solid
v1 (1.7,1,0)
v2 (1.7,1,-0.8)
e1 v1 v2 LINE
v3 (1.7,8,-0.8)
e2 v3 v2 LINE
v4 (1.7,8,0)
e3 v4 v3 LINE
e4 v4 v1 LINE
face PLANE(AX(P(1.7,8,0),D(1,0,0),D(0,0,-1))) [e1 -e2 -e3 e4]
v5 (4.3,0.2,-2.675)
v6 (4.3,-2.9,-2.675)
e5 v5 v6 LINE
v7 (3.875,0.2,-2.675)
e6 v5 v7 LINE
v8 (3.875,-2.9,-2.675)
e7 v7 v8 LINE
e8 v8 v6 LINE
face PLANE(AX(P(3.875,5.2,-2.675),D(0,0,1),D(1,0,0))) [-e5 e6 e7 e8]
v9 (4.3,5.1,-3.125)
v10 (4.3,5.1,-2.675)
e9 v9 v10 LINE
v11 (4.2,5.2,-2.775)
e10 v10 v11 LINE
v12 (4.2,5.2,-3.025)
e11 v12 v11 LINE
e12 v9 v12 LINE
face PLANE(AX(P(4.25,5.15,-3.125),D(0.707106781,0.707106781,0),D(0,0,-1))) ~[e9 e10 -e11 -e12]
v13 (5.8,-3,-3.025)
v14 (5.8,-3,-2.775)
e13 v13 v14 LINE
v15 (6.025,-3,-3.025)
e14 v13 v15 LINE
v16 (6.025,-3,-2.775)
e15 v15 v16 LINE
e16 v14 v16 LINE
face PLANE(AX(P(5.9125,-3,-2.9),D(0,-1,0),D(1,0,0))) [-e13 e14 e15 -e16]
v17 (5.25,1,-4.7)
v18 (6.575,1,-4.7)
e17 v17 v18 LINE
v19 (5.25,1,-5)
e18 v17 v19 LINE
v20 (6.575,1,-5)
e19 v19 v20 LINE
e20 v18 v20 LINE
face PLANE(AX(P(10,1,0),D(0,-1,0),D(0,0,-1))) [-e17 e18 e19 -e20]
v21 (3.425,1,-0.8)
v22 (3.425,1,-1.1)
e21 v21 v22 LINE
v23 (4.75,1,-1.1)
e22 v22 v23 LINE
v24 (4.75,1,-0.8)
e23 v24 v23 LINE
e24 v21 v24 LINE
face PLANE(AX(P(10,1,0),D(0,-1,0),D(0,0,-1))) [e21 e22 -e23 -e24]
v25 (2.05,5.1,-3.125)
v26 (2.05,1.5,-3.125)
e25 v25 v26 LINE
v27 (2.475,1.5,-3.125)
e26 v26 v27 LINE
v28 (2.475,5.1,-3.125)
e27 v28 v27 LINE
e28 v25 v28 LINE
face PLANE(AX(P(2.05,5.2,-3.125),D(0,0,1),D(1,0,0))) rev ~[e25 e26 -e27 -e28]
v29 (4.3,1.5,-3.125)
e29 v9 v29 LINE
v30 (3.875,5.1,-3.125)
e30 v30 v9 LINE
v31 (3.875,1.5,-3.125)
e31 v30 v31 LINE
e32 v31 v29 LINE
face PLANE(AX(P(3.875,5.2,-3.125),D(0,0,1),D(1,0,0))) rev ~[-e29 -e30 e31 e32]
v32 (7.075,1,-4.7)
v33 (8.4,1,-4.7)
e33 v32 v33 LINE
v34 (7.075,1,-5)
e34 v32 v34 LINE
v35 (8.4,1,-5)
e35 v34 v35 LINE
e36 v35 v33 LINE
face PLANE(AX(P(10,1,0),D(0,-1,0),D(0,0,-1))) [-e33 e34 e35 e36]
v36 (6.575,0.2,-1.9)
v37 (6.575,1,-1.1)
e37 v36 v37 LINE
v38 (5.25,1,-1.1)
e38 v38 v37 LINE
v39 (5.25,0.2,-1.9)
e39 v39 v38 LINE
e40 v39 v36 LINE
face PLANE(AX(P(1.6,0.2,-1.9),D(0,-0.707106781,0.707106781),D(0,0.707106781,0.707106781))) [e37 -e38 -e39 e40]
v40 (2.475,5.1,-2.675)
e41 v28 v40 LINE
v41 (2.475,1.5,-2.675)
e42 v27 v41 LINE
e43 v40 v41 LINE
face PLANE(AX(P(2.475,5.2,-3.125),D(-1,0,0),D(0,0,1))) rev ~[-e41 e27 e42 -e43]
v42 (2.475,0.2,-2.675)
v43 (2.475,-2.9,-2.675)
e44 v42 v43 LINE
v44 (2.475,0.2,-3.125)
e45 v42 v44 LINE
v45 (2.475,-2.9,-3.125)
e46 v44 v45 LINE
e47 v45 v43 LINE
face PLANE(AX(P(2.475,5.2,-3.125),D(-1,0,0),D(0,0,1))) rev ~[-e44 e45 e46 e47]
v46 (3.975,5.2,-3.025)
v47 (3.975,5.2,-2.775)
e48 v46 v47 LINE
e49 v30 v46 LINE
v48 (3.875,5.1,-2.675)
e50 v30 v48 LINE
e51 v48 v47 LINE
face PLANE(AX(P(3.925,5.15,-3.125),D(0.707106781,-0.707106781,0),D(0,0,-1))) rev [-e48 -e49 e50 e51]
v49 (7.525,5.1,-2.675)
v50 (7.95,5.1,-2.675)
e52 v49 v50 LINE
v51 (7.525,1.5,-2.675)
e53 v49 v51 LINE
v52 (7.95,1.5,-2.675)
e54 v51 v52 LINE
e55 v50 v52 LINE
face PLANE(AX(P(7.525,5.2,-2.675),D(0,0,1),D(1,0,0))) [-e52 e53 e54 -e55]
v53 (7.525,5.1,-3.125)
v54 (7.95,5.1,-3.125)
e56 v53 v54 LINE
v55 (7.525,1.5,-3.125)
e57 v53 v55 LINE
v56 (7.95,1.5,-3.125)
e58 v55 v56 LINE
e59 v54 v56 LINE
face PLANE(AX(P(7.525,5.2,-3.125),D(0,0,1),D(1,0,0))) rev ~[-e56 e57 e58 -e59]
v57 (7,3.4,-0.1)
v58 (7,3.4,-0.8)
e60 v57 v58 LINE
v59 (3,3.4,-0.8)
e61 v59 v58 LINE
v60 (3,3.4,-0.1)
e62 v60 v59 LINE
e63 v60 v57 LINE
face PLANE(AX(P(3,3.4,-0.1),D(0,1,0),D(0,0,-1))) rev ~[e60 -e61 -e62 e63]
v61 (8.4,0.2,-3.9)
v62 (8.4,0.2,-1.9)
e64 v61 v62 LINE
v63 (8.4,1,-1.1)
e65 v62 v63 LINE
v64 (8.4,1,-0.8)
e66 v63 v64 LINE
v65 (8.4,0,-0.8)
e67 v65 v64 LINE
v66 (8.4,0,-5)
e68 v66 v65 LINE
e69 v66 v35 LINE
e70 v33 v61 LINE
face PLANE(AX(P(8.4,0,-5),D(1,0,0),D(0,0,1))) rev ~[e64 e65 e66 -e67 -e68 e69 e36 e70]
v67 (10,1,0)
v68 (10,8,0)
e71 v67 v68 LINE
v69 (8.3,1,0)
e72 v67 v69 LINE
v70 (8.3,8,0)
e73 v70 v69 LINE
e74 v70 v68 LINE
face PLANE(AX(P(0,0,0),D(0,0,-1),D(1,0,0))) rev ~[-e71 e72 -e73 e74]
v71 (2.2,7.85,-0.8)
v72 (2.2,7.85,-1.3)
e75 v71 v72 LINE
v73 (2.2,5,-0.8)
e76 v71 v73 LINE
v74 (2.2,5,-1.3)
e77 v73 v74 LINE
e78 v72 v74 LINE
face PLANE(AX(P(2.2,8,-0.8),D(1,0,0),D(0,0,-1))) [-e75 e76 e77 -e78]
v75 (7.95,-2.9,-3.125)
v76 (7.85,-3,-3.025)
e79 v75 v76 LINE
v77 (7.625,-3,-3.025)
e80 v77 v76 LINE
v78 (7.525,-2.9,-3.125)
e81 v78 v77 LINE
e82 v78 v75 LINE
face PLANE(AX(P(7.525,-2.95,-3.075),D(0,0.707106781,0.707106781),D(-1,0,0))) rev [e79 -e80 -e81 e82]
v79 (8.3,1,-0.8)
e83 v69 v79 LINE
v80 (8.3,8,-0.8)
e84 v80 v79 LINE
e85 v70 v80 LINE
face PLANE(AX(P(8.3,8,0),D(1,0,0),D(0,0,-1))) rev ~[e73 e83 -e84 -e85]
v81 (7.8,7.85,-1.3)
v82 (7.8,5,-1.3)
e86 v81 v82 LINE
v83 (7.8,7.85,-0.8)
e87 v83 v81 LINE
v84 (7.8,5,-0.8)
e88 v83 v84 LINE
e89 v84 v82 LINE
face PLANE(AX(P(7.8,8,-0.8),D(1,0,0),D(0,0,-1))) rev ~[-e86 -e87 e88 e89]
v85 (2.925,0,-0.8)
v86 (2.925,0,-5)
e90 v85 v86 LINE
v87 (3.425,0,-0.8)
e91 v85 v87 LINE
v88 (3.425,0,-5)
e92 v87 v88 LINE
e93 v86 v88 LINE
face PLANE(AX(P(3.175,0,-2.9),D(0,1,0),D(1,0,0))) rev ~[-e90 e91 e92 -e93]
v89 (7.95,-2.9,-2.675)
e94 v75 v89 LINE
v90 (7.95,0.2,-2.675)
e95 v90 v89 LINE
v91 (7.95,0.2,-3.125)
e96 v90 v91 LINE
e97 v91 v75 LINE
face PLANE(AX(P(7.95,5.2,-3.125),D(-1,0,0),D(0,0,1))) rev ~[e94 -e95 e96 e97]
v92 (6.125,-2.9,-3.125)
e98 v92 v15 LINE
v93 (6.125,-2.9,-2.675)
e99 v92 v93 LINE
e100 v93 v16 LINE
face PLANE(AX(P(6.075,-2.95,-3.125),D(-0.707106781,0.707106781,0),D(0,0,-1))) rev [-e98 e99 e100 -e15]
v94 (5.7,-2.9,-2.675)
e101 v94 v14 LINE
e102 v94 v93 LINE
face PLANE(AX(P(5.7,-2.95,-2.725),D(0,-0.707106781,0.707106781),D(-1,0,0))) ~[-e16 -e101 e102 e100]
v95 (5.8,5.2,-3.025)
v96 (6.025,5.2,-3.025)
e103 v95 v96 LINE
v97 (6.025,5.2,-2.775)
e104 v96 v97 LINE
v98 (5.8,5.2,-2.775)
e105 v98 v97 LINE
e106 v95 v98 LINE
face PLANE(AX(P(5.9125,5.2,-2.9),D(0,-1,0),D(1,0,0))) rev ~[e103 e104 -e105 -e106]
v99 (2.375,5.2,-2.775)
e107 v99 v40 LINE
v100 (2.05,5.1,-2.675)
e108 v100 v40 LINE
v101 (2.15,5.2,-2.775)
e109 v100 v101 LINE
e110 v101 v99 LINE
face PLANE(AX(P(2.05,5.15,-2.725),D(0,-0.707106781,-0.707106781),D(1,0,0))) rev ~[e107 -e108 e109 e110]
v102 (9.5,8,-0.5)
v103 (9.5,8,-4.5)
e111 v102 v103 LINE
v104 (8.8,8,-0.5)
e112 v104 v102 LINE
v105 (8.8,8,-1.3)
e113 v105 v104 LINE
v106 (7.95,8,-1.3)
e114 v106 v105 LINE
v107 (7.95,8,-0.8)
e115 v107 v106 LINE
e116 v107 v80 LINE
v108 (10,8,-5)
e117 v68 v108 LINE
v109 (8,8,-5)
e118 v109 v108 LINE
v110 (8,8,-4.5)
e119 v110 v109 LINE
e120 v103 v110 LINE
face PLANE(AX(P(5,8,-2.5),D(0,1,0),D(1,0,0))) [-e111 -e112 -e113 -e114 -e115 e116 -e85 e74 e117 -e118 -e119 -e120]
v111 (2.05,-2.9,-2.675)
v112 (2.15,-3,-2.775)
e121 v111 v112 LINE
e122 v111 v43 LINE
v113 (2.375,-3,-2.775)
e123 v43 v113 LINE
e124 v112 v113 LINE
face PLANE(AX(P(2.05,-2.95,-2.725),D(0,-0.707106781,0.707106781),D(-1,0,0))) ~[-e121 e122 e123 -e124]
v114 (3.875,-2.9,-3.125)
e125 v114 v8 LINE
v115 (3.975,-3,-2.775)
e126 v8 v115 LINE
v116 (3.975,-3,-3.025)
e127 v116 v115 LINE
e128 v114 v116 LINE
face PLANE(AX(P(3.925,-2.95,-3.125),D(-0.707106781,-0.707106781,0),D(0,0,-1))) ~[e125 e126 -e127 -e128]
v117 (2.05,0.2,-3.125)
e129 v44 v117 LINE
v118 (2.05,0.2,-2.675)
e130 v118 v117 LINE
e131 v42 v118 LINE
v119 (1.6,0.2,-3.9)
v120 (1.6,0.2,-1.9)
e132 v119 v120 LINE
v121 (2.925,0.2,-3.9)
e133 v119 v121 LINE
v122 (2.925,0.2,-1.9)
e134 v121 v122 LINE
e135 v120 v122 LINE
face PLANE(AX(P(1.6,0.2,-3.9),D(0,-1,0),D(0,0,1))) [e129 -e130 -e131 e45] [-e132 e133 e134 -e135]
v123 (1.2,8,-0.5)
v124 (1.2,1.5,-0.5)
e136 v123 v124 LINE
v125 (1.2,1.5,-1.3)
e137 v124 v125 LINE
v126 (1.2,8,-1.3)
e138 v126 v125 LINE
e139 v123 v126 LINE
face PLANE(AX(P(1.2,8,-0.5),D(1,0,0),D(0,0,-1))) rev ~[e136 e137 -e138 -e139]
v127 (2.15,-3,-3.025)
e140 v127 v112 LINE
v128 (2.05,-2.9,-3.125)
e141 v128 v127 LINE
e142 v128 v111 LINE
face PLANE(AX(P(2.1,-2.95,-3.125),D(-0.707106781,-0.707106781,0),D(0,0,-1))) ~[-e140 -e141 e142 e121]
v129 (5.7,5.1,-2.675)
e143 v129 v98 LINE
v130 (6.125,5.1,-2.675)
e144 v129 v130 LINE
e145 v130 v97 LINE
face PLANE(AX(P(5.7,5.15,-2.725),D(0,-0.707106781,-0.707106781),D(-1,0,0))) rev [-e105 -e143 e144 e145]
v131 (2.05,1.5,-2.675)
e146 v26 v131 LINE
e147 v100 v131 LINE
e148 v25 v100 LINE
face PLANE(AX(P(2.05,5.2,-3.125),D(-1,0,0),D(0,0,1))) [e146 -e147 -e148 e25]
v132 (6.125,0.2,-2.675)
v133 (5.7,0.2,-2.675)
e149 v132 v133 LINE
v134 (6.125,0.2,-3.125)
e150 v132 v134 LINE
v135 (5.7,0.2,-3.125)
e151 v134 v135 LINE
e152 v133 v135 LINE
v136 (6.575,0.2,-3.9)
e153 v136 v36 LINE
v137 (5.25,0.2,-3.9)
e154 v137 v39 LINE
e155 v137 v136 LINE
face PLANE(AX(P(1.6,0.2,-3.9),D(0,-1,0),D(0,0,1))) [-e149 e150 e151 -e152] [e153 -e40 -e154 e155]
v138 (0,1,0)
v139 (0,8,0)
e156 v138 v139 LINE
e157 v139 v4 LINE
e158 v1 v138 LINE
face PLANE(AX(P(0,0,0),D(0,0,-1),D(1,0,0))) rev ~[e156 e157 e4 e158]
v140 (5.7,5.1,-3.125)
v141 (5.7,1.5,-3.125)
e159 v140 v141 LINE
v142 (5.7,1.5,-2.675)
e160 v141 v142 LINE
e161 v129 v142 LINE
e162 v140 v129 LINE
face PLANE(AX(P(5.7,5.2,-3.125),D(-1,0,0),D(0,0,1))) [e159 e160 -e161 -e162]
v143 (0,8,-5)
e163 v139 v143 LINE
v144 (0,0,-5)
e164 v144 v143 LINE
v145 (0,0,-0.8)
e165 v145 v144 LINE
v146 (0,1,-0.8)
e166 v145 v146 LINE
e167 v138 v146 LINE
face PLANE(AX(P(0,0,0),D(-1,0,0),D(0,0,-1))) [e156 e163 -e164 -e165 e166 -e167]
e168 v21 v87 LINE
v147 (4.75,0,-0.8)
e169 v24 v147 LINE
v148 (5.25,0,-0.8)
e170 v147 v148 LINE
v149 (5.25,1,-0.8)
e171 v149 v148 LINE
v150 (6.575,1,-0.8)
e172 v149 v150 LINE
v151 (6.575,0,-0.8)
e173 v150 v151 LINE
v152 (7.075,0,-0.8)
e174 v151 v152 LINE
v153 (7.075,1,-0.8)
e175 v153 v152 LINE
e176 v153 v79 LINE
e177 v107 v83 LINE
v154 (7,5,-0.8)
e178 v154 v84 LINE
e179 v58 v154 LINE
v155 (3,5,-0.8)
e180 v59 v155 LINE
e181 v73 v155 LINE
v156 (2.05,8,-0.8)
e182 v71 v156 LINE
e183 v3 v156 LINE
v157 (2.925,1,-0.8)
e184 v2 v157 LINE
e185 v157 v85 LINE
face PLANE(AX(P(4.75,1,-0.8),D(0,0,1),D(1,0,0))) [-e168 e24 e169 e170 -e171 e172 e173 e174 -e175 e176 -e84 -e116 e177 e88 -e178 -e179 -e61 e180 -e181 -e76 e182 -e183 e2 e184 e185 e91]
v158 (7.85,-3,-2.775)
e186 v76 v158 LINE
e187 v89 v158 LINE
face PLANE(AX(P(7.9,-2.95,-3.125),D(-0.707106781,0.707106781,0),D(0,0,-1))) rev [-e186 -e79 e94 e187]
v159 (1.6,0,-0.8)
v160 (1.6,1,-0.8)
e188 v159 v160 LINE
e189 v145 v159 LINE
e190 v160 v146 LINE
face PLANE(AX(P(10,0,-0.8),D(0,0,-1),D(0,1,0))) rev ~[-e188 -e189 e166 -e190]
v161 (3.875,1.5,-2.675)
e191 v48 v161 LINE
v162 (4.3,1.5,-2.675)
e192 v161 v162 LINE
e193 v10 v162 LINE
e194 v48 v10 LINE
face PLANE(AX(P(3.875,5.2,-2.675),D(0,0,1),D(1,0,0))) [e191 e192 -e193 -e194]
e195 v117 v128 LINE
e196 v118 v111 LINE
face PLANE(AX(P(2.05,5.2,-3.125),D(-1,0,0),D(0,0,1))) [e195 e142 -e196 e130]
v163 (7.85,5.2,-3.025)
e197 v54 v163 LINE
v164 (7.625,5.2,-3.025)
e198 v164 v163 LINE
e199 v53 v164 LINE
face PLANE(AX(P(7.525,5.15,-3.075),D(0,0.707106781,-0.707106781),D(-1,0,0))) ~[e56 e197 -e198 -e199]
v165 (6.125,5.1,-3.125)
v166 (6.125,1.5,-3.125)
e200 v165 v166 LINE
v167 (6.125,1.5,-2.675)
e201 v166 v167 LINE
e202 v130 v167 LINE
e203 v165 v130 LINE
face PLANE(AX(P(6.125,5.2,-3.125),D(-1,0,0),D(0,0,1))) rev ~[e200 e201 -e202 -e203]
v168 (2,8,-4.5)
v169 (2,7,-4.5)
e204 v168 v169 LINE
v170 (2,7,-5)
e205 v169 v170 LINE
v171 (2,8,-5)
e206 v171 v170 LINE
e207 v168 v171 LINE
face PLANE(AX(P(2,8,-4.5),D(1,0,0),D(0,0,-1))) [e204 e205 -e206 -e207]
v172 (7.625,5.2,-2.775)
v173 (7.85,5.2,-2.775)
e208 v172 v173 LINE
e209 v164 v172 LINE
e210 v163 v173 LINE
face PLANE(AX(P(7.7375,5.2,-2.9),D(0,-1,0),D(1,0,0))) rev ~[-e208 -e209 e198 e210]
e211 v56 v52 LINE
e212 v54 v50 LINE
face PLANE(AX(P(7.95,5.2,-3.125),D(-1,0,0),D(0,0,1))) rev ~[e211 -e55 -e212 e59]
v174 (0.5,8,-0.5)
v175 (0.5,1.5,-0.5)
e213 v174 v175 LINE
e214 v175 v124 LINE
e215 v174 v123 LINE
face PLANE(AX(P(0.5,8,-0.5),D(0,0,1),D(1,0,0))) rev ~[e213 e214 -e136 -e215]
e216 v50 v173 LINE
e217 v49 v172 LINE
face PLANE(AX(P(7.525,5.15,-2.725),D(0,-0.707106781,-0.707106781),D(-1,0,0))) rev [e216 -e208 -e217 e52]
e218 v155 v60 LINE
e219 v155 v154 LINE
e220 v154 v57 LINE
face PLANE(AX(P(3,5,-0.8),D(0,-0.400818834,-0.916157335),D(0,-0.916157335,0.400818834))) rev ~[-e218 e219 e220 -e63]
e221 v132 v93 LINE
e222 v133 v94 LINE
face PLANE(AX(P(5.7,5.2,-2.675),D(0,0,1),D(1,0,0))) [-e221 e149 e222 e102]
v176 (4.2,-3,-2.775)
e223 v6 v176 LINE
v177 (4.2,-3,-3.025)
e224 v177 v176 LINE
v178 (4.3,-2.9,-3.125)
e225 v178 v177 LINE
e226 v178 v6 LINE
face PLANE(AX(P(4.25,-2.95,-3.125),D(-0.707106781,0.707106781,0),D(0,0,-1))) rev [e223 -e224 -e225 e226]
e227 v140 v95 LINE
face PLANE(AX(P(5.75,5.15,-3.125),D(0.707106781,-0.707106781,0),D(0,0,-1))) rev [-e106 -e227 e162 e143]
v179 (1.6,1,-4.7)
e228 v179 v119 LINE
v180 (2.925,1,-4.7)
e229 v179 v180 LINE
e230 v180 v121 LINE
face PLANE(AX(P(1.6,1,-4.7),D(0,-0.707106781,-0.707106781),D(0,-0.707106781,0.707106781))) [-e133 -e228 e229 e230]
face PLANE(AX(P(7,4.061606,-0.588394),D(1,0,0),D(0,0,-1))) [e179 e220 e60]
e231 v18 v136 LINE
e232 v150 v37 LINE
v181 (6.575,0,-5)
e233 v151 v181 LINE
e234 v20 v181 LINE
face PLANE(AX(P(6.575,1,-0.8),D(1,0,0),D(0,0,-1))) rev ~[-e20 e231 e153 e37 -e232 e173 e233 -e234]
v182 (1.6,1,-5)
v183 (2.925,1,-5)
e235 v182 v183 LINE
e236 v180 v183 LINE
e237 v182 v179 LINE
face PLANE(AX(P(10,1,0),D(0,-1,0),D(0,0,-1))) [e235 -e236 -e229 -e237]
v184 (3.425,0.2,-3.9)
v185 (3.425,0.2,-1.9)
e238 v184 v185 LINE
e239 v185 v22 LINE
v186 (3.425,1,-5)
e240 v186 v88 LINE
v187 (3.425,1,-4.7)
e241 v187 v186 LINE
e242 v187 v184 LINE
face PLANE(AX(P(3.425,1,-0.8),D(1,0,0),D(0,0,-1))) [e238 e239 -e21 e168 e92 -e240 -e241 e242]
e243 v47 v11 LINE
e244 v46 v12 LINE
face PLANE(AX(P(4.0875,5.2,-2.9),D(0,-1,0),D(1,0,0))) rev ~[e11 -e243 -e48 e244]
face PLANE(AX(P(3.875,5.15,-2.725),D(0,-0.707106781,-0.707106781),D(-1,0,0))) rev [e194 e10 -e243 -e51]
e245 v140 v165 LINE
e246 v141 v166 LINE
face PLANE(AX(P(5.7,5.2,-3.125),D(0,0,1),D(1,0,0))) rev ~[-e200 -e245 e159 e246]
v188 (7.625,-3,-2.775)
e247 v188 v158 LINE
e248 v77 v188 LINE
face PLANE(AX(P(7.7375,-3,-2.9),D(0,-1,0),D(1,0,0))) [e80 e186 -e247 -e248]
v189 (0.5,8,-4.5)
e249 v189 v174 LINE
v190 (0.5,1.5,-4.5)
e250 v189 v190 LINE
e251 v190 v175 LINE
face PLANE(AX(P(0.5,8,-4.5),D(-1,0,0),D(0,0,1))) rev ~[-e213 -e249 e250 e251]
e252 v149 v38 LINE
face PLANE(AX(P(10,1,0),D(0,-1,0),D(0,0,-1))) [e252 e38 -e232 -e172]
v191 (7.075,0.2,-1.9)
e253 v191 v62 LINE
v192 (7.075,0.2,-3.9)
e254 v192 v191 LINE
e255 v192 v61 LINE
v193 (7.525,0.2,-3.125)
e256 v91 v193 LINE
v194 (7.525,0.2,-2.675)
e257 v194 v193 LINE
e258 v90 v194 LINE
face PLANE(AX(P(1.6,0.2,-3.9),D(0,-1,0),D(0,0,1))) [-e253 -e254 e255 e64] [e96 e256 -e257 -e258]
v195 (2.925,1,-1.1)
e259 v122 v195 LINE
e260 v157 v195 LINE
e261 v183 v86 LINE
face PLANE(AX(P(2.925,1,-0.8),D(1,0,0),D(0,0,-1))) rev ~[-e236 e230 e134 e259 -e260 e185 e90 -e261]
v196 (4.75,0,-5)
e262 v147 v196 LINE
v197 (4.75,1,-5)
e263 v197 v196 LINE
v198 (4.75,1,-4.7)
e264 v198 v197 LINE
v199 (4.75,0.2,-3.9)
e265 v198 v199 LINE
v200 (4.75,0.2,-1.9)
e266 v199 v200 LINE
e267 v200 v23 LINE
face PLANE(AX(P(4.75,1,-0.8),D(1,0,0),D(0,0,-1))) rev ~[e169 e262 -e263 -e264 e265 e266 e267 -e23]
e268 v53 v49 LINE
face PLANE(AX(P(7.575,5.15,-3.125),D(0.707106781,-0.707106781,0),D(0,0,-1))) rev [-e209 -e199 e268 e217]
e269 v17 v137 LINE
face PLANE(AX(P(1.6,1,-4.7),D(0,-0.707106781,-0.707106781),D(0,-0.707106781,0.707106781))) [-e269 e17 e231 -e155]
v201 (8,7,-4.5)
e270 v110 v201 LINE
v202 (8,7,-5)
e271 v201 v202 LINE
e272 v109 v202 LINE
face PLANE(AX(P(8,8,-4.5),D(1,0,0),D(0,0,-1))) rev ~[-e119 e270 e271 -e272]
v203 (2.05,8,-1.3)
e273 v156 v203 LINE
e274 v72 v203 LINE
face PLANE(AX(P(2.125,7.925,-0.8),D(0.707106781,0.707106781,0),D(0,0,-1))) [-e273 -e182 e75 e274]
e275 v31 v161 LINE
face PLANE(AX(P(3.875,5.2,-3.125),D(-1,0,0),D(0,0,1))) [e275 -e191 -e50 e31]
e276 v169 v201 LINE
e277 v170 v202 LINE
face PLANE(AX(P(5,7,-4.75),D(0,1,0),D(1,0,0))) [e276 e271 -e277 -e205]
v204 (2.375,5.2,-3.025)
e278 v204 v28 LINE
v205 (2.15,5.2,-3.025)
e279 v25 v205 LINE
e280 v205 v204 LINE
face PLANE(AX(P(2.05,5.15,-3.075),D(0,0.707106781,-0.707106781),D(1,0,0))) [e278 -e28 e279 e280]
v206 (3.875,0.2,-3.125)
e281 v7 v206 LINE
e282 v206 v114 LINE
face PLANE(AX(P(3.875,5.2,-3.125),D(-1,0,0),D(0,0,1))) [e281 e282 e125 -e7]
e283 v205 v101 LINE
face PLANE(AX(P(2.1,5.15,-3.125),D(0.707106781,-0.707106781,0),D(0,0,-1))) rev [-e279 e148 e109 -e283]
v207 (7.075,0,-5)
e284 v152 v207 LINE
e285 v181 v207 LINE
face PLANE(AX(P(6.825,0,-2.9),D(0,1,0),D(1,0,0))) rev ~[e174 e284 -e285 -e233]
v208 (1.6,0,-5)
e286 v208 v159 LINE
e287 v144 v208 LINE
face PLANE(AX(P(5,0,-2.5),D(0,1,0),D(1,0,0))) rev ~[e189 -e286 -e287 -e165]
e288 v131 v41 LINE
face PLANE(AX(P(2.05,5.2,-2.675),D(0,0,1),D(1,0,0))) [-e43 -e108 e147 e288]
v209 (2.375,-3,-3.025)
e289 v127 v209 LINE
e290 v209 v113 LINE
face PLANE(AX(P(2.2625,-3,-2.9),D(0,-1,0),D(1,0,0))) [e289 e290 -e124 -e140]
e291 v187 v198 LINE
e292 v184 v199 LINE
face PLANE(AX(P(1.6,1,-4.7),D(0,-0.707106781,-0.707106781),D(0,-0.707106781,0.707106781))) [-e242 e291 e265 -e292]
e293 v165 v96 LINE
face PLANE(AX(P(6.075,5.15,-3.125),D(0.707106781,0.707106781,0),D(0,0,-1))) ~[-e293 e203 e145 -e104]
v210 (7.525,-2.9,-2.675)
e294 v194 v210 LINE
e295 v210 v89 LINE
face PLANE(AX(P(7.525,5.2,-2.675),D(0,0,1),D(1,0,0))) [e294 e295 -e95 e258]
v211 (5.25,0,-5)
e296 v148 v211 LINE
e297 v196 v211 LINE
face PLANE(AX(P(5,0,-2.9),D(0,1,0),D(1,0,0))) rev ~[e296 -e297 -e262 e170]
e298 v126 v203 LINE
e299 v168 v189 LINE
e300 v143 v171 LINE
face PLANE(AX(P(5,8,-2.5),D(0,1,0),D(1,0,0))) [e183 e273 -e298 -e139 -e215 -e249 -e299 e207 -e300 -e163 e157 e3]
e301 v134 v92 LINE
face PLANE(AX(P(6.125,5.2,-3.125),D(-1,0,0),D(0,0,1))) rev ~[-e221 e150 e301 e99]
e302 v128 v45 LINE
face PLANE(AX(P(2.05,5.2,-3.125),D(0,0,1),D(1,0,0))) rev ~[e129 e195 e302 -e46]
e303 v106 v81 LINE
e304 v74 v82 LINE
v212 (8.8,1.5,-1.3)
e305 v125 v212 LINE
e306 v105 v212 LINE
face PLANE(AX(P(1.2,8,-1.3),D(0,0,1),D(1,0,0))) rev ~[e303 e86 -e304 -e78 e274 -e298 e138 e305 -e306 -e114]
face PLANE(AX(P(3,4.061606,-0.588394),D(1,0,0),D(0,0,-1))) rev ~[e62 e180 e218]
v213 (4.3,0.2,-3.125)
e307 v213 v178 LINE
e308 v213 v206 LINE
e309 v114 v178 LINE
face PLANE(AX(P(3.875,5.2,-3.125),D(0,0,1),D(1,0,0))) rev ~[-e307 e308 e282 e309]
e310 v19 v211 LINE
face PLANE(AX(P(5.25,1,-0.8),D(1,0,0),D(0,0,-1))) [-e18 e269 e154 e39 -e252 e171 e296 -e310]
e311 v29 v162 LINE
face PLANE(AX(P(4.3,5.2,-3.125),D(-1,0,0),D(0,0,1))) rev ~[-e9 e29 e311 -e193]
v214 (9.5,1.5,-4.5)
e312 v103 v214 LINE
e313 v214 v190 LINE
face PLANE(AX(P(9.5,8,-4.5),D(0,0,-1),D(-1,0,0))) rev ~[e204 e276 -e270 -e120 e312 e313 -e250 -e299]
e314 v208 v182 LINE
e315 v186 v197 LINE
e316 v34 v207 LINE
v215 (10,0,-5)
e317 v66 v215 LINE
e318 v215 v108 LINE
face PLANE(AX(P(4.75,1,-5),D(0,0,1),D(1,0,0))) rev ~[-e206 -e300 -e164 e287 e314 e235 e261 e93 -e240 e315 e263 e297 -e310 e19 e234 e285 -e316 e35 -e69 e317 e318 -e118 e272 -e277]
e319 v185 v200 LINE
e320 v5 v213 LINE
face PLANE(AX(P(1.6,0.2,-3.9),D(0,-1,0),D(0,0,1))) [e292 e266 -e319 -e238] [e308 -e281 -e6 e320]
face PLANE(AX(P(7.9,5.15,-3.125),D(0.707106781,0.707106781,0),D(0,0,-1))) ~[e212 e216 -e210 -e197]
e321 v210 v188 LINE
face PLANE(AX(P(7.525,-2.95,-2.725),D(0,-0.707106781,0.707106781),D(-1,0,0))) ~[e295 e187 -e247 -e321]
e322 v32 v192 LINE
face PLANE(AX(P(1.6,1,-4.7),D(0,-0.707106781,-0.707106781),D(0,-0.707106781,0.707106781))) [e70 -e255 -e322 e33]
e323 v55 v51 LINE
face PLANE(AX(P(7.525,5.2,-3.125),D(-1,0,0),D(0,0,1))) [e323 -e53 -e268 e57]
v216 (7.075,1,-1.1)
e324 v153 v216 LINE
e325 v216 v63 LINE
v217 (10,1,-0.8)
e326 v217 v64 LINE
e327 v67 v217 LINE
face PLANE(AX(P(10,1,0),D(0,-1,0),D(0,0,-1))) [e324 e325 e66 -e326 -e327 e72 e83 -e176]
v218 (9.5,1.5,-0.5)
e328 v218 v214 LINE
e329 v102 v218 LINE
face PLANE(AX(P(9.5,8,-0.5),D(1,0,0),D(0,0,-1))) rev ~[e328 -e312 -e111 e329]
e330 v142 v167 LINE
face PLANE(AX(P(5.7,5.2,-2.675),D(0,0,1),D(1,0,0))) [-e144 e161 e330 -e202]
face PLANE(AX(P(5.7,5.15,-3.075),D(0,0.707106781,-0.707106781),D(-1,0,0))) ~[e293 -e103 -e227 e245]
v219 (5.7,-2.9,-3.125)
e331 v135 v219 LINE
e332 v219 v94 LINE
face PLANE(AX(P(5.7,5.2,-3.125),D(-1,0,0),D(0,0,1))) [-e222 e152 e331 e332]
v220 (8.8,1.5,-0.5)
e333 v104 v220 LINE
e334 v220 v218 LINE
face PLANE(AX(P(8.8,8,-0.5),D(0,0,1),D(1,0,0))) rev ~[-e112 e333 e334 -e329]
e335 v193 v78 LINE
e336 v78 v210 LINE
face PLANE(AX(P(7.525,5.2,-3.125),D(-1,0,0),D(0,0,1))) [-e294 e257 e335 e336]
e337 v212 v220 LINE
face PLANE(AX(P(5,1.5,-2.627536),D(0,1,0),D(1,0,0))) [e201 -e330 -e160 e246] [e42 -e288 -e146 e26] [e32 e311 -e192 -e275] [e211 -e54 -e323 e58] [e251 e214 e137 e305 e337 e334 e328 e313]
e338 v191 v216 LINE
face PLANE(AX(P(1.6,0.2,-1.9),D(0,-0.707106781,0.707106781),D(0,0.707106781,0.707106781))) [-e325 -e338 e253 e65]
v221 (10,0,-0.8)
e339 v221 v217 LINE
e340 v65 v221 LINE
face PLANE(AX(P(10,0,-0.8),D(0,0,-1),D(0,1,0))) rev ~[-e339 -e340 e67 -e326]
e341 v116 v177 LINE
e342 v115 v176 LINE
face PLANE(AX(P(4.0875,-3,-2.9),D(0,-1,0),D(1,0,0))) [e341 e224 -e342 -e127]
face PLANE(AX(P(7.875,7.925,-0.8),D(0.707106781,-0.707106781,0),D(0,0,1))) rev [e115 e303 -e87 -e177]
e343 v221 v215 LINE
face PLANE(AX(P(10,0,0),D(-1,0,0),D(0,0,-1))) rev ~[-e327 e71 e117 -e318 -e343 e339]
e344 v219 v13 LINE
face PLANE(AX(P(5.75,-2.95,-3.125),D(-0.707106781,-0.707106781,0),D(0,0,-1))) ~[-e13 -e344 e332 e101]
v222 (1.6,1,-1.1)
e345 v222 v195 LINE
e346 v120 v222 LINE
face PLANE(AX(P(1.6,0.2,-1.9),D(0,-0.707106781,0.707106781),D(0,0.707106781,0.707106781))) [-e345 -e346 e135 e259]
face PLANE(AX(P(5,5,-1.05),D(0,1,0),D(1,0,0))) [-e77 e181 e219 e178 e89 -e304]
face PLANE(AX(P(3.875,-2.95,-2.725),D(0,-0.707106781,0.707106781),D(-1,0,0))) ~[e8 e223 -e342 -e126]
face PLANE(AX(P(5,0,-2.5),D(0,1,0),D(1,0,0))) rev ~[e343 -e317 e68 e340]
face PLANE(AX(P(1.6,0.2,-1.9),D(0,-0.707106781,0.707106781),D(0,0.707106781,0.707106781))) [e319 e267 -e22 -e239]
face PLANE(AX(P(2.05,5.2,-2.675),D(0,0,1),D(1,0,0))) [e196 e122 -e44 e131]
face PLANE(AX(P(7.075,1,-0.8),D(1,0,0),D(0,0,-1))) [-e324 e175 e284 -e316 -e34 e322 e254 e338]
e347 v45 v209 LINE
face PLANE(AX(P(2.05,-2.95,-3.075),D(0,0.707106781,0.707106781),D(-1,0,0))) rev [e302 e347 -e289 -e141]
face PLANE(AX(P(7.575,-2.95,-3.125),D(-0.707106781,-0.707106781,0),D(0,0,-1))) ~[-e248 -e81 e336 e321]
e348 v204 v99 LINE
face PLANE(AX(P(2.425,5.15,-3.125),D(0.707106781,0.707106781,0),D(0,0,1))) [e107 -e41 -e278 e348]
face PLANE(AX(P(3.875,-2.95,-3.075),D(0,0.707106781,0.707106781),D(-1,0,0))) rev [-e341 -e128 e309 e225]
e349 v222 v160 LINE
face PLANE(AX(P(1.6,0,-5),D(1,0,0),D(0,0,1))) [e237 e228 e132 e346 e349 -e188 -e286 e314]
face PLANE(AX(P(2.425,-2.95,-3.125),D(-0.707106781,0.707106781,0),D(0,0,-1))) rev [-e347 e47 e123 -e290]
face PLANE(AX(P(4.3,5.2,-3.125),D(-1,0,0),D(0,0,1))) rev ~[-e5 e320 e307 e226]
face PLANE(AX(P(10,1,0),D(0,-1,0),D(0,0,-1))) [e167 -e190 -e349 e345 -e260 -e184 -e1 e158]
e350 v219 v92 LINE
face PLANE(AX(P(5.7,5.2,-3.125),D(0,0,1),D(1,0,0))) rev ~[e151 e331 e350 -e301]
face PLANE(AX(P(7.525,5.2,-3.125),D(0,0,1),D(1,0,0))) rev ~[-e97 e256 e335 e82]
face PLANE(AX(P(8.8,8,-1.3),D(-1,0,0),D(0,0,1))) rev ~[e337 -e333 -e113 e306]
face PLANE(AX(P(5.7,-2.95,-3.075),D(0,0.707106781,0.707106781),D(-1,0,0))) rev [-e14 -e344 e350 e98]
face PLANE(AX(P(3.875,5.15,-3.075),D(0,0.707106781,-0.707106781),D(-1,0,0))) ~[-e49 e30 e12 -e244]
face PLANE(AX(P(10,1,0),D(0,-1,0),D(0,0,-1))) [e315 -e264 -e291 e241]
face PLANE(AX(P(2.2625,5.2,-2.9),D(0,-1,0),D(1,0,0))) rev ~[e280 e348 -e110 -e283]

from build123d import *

# Parameters (mm, degrees)
ESQUISSE1_W             = 10
ESQUISSE1_H             = 5
BOSS_EXTRU_1_DEPTH      = 8
ESQUISSE2_W             = 6.6
ESQUISSE2_H             = 0.8
ENL_V_MAT_EXTRU_1_DEPTH = 8
ENL_V_MAT_EXTRU_2_DEPTH = 6.5
ESQUISSE5_W             = 6
ESQUISSE5_H             = 0.5
ENL_V_MAT_EXTRU_3_DEPTH = 1
ESQUISSE6_W             = 5.6
ESQUISSE6_H             = 0.5
ENL_V_MAT_EXTRU_4_DEPTH = 3
ESQUISSE7_W             = 0.8
ESQUISSE7_H             = 1
ENL_V_MAT_EXTRU_5_DEPTH = 10
ESQUISSE8_W             = 6.8
ESQUISSE8_H             = 4.2
ENL_V_MAT_EXTRU_6_DEPTH = 1
BOSS_EXTRU_2_DEPTH      = 6.8
BOSS_EXTRU_3_DEPTH      = 2
BOSS_EXTRU_3_DEPTH_BACK = 2
ESQUISSE12_W            = 0.5
ESQUISSE12_H            = 4.2
BOSS_EXTRU_4_DEPTH      = 1
CHANFREIN1_SIZE         = 0.15
BOSS_EXTRU_5_DEPTH      = 3.2
BOSS_EXTRU_5_DEPTH_BACK = 5
ESQUISSE13_W            = 0.425
ESQUISSE13_H            = 0.45
CHANFREIN2_SIZE         = 0.1


with BuildPart() as part:
    # Esquisse1 → Boss.-Extru.1 (new body)
    with BuildSketch(Plane(origin=(0, 0, 0), x_dir=(1, 0, 0), z_dir=(0, 1, 0))):
        with Locations((5, 2.5)):
            Rectangle(ESQUISSE1_W, ESQUISSE1_H)
    extrude(amount=BOSS_EXTRU_1_DEPTH)

    # Esquisse2 → Enlèv. mat.-Extru.1 (cut)
    with BuildSketch(Plane(origin=(0, 8, 0), x_dir=(1, 0, 0), z_dir=(0, 1, 0))):
        with Locations((5, 0.4)):
            Rectangle(ESQUISSE2_W, ESQUISSE2_H)
    extrude(amount=-ENL_V_MAT_EXTRU_1_DEPTH, mode=Mode.SUBTRACT)

    # Esquisse4 → Enlèv. mat.-Extru.2 (cut)
    with BuildSketch(Plane(origin=(0, 8, 0), x_dir=(1, 0, 0), z_dir=(0, 1, 0))):
        Polygon((0.5, 0.5), (1.2, 0.5), (1.2, 1.3), (8.8, 1.3), (8.8, 0.5), (9.5, 0.5), (9.5, 4.5), (0.5, 4.5), align=None)
    extrude(amount=-ENL_V_MAT_EXTRU_2_DEPTH, mode=Mode.SUBTRACT)

    # Esquisse5 → Enlèv. mat.-Extru.3 (cut)
    with BuildSketch(Plane(origin=(0, 8, 0), x_dir=(1, 0, 0), z_dir=(0, 1, 0))):
        with Locations((5, 4.75)):
            Rectangle(ESQUISSE5_W, ESQUISSE5_H)
    extrude(amount=-ENL_V_MAT_EXTRU_3_DEPTH, mode=Mode.SUBTRACT)

    # Esquisse6 → Enlèv. mat.-Extru.4 (cut)
    with BuildSketch(Plane(origin=(0, 8, 0), x_dir=(1, 0, 0), z_dir=(0, 1, 0))):
        with Locations((5, 1.05)):
            Rectangle(ESQUISSE6_W, ESQUISSE6_H)
    extrude(amount=-ENL_V_MAT_EXTRU_4_DEPTH, mode=Mode.SUBTRACT)

    # Esquisse7 → Enlèv. mat.-Extru.5 (cut)
    with BuildSketch(Plane(origin=(10, 0, 0), x_dir=(0, 0, -1), z_dir=(1, 0, 0))):
        with Locations((0.4, 0.5)):
            Rectangle(ESQUISSE7_W, ESQUISSE7_H)
    extrude(amount=-ENL_V_MAT_EXTRU_5_DEPTH, mode=Mode.SUBTRACT)

    # Esquisse8 → Enlèv. mat.-Extru.6 (cut)
    with BuildSketch(Plane.XZ):
        with Locations((5, -2.9)):
            Rectangle(ESQUISSE8_W, ESQUISSE8_H)
    extrude(amount=-ENL_V_MAT_EXTRU_6_DEPTH, mode=Mode.SUBTRACT)

    # Esquisse9 → Boss.-Extru.2 (add)
    with BuildSketch(Plane(origin=(1.6, 0, 0), x_dir=(0, 0, -1), z_dir=(1, 0, 0))):
        Polygon((4.7, 1), (3.9, 0.2), (1.9, 0.2), (1.1, 1), align=None)
    extrude(amount=BOSS_EXTRU_2_DEPTH)

    # Esquisse11 → Boss.-Extru.3 (add, two sides: drawn at the far end of the back side and taken through both)
    with BuildSketch(Plane(origin=(5, 0, 0), x_dir=(0, 0, -1), z_dir=(1, 0, 0)).offset(-BOSS_EXTRU_3_DEPTH_BACK)):
        Polygon((0.8, 5), (0.1, 3.4), (0.8, 3.4), align=None)
    extrude(amount=BOSS_EXTRU_3_DEPTH + BOSS_EXTRU_3_DEPTH_BACK)

    # Esquisse12 → Boss.-Extru.4 (add)
    with BuildSketch(Plane(origin=(0, 1, 0), x_dir=(1, 0, 0), z_dir=(0, 1, 0))):
        with Locations((5, 2.9)):
            Rectangle(ESQUISSE12_W, ESQUISSE12_H)
        with Locations((3.175, 2.9)):
            Rectangle(ESQUISSE12_W, ESQUISSE12_H)
        with Locations((6.825, 2.9)):
            Rectangle(ESQUISSE12_W, ESQUISSE12_H)
    extrude(amount=-BOSS_EXTRU_4_DEPTH)

    # Chanfrein1
    chanfrein1_edges = [part.edges().sort_by_distance(p)[0] for p in [
        (2.2, 8, -1.05),
        (7.8, 8, -1.05),
    ]]
    chamfer(chanfrein1_edges, length=CHANFREIN1_SIZE)

    # Esquisse13 → Boss.-Extru.5 (add, two sides: drawn at the far end of the back side and taken through both)
    with BuildSketch(Plane.XZ.offset(-0.2).offset(-BOSS_EXTRU_5_DEPTH_BACK)):
        with Locations((2.2625, -2.9)):
            Rectangle(ESQUISSE13_W, ESQUISSE13_H)
        with Locations((4.0875, -2.9)):
            Rectangle(ESQUISSE13_W, ESQUISSE13_H)
        with Locations((5.9125, -2.9)):
            Rectangle(ESQUISSE13_W, ESQUISSE13_H)
        with Locations((7.7375, -2.9)):
            Rectangle(ESQUISSE13_W, ESQUISSE13_H)
    extrude(amount=BOSS_EXTRU_5_DEPTH + BOSS_EXTRU_5_DEPTH_BACK)

    # Chanfrein2
    chanfrein2_edges = [part.edges().sort_by_distance(p)[0] for p in [
        (2.05, 5.2, -2.9),
        (2.2625, 5.2, -2.675),
        (2.475, 5.2, -2.9),
        (2.2625, 5.2, -3.125),
        (2.05, -3, -2.9),
        (2.2625, -3, -3.125),
        (2.475, -3, -2.9),
        (2.2625, -3, -2.675),
        (4.3, 5.2, -2.9),
        (4.0875, 5.2, -3.125),
        (3.875, 5.2, -2.9),
        (4.0875, 5.2, -2.675),
        (4.3, -3, -2.9),
        (4.0875, -3, -2.675),
        (3.875, -3, -2.9),
        (4.0875, -3, -3.125),
        (5.7, 5.2, -2.9),
        (5.9125, 5.2, -2.675),
        (6.125, 5.2, -2.9),
        (5.9125, 5.2, -3.125),
        (5.7, -3, -2.9),
        (5.9125, -3, -3.125),
        (6.125, -3, -2.9),
        (5.9125, -3, -2.675),
        (7.7375, 5.2, -2.675),
        (7.95, 5.2, -2.9),
        (7.7375, 5.2, -3.125),
        (7.525, 5.2, -2.9),
        (7.7375, -3, -2.675),
        (7.525, -3, -2.9),
        (7.7375, -3, -3.125),
        (7.95, -3, -2.9),
    ]]
    chamfer(chanfrein2_edges, length=CHANFREIN2_SIZE)


solid = part.part
